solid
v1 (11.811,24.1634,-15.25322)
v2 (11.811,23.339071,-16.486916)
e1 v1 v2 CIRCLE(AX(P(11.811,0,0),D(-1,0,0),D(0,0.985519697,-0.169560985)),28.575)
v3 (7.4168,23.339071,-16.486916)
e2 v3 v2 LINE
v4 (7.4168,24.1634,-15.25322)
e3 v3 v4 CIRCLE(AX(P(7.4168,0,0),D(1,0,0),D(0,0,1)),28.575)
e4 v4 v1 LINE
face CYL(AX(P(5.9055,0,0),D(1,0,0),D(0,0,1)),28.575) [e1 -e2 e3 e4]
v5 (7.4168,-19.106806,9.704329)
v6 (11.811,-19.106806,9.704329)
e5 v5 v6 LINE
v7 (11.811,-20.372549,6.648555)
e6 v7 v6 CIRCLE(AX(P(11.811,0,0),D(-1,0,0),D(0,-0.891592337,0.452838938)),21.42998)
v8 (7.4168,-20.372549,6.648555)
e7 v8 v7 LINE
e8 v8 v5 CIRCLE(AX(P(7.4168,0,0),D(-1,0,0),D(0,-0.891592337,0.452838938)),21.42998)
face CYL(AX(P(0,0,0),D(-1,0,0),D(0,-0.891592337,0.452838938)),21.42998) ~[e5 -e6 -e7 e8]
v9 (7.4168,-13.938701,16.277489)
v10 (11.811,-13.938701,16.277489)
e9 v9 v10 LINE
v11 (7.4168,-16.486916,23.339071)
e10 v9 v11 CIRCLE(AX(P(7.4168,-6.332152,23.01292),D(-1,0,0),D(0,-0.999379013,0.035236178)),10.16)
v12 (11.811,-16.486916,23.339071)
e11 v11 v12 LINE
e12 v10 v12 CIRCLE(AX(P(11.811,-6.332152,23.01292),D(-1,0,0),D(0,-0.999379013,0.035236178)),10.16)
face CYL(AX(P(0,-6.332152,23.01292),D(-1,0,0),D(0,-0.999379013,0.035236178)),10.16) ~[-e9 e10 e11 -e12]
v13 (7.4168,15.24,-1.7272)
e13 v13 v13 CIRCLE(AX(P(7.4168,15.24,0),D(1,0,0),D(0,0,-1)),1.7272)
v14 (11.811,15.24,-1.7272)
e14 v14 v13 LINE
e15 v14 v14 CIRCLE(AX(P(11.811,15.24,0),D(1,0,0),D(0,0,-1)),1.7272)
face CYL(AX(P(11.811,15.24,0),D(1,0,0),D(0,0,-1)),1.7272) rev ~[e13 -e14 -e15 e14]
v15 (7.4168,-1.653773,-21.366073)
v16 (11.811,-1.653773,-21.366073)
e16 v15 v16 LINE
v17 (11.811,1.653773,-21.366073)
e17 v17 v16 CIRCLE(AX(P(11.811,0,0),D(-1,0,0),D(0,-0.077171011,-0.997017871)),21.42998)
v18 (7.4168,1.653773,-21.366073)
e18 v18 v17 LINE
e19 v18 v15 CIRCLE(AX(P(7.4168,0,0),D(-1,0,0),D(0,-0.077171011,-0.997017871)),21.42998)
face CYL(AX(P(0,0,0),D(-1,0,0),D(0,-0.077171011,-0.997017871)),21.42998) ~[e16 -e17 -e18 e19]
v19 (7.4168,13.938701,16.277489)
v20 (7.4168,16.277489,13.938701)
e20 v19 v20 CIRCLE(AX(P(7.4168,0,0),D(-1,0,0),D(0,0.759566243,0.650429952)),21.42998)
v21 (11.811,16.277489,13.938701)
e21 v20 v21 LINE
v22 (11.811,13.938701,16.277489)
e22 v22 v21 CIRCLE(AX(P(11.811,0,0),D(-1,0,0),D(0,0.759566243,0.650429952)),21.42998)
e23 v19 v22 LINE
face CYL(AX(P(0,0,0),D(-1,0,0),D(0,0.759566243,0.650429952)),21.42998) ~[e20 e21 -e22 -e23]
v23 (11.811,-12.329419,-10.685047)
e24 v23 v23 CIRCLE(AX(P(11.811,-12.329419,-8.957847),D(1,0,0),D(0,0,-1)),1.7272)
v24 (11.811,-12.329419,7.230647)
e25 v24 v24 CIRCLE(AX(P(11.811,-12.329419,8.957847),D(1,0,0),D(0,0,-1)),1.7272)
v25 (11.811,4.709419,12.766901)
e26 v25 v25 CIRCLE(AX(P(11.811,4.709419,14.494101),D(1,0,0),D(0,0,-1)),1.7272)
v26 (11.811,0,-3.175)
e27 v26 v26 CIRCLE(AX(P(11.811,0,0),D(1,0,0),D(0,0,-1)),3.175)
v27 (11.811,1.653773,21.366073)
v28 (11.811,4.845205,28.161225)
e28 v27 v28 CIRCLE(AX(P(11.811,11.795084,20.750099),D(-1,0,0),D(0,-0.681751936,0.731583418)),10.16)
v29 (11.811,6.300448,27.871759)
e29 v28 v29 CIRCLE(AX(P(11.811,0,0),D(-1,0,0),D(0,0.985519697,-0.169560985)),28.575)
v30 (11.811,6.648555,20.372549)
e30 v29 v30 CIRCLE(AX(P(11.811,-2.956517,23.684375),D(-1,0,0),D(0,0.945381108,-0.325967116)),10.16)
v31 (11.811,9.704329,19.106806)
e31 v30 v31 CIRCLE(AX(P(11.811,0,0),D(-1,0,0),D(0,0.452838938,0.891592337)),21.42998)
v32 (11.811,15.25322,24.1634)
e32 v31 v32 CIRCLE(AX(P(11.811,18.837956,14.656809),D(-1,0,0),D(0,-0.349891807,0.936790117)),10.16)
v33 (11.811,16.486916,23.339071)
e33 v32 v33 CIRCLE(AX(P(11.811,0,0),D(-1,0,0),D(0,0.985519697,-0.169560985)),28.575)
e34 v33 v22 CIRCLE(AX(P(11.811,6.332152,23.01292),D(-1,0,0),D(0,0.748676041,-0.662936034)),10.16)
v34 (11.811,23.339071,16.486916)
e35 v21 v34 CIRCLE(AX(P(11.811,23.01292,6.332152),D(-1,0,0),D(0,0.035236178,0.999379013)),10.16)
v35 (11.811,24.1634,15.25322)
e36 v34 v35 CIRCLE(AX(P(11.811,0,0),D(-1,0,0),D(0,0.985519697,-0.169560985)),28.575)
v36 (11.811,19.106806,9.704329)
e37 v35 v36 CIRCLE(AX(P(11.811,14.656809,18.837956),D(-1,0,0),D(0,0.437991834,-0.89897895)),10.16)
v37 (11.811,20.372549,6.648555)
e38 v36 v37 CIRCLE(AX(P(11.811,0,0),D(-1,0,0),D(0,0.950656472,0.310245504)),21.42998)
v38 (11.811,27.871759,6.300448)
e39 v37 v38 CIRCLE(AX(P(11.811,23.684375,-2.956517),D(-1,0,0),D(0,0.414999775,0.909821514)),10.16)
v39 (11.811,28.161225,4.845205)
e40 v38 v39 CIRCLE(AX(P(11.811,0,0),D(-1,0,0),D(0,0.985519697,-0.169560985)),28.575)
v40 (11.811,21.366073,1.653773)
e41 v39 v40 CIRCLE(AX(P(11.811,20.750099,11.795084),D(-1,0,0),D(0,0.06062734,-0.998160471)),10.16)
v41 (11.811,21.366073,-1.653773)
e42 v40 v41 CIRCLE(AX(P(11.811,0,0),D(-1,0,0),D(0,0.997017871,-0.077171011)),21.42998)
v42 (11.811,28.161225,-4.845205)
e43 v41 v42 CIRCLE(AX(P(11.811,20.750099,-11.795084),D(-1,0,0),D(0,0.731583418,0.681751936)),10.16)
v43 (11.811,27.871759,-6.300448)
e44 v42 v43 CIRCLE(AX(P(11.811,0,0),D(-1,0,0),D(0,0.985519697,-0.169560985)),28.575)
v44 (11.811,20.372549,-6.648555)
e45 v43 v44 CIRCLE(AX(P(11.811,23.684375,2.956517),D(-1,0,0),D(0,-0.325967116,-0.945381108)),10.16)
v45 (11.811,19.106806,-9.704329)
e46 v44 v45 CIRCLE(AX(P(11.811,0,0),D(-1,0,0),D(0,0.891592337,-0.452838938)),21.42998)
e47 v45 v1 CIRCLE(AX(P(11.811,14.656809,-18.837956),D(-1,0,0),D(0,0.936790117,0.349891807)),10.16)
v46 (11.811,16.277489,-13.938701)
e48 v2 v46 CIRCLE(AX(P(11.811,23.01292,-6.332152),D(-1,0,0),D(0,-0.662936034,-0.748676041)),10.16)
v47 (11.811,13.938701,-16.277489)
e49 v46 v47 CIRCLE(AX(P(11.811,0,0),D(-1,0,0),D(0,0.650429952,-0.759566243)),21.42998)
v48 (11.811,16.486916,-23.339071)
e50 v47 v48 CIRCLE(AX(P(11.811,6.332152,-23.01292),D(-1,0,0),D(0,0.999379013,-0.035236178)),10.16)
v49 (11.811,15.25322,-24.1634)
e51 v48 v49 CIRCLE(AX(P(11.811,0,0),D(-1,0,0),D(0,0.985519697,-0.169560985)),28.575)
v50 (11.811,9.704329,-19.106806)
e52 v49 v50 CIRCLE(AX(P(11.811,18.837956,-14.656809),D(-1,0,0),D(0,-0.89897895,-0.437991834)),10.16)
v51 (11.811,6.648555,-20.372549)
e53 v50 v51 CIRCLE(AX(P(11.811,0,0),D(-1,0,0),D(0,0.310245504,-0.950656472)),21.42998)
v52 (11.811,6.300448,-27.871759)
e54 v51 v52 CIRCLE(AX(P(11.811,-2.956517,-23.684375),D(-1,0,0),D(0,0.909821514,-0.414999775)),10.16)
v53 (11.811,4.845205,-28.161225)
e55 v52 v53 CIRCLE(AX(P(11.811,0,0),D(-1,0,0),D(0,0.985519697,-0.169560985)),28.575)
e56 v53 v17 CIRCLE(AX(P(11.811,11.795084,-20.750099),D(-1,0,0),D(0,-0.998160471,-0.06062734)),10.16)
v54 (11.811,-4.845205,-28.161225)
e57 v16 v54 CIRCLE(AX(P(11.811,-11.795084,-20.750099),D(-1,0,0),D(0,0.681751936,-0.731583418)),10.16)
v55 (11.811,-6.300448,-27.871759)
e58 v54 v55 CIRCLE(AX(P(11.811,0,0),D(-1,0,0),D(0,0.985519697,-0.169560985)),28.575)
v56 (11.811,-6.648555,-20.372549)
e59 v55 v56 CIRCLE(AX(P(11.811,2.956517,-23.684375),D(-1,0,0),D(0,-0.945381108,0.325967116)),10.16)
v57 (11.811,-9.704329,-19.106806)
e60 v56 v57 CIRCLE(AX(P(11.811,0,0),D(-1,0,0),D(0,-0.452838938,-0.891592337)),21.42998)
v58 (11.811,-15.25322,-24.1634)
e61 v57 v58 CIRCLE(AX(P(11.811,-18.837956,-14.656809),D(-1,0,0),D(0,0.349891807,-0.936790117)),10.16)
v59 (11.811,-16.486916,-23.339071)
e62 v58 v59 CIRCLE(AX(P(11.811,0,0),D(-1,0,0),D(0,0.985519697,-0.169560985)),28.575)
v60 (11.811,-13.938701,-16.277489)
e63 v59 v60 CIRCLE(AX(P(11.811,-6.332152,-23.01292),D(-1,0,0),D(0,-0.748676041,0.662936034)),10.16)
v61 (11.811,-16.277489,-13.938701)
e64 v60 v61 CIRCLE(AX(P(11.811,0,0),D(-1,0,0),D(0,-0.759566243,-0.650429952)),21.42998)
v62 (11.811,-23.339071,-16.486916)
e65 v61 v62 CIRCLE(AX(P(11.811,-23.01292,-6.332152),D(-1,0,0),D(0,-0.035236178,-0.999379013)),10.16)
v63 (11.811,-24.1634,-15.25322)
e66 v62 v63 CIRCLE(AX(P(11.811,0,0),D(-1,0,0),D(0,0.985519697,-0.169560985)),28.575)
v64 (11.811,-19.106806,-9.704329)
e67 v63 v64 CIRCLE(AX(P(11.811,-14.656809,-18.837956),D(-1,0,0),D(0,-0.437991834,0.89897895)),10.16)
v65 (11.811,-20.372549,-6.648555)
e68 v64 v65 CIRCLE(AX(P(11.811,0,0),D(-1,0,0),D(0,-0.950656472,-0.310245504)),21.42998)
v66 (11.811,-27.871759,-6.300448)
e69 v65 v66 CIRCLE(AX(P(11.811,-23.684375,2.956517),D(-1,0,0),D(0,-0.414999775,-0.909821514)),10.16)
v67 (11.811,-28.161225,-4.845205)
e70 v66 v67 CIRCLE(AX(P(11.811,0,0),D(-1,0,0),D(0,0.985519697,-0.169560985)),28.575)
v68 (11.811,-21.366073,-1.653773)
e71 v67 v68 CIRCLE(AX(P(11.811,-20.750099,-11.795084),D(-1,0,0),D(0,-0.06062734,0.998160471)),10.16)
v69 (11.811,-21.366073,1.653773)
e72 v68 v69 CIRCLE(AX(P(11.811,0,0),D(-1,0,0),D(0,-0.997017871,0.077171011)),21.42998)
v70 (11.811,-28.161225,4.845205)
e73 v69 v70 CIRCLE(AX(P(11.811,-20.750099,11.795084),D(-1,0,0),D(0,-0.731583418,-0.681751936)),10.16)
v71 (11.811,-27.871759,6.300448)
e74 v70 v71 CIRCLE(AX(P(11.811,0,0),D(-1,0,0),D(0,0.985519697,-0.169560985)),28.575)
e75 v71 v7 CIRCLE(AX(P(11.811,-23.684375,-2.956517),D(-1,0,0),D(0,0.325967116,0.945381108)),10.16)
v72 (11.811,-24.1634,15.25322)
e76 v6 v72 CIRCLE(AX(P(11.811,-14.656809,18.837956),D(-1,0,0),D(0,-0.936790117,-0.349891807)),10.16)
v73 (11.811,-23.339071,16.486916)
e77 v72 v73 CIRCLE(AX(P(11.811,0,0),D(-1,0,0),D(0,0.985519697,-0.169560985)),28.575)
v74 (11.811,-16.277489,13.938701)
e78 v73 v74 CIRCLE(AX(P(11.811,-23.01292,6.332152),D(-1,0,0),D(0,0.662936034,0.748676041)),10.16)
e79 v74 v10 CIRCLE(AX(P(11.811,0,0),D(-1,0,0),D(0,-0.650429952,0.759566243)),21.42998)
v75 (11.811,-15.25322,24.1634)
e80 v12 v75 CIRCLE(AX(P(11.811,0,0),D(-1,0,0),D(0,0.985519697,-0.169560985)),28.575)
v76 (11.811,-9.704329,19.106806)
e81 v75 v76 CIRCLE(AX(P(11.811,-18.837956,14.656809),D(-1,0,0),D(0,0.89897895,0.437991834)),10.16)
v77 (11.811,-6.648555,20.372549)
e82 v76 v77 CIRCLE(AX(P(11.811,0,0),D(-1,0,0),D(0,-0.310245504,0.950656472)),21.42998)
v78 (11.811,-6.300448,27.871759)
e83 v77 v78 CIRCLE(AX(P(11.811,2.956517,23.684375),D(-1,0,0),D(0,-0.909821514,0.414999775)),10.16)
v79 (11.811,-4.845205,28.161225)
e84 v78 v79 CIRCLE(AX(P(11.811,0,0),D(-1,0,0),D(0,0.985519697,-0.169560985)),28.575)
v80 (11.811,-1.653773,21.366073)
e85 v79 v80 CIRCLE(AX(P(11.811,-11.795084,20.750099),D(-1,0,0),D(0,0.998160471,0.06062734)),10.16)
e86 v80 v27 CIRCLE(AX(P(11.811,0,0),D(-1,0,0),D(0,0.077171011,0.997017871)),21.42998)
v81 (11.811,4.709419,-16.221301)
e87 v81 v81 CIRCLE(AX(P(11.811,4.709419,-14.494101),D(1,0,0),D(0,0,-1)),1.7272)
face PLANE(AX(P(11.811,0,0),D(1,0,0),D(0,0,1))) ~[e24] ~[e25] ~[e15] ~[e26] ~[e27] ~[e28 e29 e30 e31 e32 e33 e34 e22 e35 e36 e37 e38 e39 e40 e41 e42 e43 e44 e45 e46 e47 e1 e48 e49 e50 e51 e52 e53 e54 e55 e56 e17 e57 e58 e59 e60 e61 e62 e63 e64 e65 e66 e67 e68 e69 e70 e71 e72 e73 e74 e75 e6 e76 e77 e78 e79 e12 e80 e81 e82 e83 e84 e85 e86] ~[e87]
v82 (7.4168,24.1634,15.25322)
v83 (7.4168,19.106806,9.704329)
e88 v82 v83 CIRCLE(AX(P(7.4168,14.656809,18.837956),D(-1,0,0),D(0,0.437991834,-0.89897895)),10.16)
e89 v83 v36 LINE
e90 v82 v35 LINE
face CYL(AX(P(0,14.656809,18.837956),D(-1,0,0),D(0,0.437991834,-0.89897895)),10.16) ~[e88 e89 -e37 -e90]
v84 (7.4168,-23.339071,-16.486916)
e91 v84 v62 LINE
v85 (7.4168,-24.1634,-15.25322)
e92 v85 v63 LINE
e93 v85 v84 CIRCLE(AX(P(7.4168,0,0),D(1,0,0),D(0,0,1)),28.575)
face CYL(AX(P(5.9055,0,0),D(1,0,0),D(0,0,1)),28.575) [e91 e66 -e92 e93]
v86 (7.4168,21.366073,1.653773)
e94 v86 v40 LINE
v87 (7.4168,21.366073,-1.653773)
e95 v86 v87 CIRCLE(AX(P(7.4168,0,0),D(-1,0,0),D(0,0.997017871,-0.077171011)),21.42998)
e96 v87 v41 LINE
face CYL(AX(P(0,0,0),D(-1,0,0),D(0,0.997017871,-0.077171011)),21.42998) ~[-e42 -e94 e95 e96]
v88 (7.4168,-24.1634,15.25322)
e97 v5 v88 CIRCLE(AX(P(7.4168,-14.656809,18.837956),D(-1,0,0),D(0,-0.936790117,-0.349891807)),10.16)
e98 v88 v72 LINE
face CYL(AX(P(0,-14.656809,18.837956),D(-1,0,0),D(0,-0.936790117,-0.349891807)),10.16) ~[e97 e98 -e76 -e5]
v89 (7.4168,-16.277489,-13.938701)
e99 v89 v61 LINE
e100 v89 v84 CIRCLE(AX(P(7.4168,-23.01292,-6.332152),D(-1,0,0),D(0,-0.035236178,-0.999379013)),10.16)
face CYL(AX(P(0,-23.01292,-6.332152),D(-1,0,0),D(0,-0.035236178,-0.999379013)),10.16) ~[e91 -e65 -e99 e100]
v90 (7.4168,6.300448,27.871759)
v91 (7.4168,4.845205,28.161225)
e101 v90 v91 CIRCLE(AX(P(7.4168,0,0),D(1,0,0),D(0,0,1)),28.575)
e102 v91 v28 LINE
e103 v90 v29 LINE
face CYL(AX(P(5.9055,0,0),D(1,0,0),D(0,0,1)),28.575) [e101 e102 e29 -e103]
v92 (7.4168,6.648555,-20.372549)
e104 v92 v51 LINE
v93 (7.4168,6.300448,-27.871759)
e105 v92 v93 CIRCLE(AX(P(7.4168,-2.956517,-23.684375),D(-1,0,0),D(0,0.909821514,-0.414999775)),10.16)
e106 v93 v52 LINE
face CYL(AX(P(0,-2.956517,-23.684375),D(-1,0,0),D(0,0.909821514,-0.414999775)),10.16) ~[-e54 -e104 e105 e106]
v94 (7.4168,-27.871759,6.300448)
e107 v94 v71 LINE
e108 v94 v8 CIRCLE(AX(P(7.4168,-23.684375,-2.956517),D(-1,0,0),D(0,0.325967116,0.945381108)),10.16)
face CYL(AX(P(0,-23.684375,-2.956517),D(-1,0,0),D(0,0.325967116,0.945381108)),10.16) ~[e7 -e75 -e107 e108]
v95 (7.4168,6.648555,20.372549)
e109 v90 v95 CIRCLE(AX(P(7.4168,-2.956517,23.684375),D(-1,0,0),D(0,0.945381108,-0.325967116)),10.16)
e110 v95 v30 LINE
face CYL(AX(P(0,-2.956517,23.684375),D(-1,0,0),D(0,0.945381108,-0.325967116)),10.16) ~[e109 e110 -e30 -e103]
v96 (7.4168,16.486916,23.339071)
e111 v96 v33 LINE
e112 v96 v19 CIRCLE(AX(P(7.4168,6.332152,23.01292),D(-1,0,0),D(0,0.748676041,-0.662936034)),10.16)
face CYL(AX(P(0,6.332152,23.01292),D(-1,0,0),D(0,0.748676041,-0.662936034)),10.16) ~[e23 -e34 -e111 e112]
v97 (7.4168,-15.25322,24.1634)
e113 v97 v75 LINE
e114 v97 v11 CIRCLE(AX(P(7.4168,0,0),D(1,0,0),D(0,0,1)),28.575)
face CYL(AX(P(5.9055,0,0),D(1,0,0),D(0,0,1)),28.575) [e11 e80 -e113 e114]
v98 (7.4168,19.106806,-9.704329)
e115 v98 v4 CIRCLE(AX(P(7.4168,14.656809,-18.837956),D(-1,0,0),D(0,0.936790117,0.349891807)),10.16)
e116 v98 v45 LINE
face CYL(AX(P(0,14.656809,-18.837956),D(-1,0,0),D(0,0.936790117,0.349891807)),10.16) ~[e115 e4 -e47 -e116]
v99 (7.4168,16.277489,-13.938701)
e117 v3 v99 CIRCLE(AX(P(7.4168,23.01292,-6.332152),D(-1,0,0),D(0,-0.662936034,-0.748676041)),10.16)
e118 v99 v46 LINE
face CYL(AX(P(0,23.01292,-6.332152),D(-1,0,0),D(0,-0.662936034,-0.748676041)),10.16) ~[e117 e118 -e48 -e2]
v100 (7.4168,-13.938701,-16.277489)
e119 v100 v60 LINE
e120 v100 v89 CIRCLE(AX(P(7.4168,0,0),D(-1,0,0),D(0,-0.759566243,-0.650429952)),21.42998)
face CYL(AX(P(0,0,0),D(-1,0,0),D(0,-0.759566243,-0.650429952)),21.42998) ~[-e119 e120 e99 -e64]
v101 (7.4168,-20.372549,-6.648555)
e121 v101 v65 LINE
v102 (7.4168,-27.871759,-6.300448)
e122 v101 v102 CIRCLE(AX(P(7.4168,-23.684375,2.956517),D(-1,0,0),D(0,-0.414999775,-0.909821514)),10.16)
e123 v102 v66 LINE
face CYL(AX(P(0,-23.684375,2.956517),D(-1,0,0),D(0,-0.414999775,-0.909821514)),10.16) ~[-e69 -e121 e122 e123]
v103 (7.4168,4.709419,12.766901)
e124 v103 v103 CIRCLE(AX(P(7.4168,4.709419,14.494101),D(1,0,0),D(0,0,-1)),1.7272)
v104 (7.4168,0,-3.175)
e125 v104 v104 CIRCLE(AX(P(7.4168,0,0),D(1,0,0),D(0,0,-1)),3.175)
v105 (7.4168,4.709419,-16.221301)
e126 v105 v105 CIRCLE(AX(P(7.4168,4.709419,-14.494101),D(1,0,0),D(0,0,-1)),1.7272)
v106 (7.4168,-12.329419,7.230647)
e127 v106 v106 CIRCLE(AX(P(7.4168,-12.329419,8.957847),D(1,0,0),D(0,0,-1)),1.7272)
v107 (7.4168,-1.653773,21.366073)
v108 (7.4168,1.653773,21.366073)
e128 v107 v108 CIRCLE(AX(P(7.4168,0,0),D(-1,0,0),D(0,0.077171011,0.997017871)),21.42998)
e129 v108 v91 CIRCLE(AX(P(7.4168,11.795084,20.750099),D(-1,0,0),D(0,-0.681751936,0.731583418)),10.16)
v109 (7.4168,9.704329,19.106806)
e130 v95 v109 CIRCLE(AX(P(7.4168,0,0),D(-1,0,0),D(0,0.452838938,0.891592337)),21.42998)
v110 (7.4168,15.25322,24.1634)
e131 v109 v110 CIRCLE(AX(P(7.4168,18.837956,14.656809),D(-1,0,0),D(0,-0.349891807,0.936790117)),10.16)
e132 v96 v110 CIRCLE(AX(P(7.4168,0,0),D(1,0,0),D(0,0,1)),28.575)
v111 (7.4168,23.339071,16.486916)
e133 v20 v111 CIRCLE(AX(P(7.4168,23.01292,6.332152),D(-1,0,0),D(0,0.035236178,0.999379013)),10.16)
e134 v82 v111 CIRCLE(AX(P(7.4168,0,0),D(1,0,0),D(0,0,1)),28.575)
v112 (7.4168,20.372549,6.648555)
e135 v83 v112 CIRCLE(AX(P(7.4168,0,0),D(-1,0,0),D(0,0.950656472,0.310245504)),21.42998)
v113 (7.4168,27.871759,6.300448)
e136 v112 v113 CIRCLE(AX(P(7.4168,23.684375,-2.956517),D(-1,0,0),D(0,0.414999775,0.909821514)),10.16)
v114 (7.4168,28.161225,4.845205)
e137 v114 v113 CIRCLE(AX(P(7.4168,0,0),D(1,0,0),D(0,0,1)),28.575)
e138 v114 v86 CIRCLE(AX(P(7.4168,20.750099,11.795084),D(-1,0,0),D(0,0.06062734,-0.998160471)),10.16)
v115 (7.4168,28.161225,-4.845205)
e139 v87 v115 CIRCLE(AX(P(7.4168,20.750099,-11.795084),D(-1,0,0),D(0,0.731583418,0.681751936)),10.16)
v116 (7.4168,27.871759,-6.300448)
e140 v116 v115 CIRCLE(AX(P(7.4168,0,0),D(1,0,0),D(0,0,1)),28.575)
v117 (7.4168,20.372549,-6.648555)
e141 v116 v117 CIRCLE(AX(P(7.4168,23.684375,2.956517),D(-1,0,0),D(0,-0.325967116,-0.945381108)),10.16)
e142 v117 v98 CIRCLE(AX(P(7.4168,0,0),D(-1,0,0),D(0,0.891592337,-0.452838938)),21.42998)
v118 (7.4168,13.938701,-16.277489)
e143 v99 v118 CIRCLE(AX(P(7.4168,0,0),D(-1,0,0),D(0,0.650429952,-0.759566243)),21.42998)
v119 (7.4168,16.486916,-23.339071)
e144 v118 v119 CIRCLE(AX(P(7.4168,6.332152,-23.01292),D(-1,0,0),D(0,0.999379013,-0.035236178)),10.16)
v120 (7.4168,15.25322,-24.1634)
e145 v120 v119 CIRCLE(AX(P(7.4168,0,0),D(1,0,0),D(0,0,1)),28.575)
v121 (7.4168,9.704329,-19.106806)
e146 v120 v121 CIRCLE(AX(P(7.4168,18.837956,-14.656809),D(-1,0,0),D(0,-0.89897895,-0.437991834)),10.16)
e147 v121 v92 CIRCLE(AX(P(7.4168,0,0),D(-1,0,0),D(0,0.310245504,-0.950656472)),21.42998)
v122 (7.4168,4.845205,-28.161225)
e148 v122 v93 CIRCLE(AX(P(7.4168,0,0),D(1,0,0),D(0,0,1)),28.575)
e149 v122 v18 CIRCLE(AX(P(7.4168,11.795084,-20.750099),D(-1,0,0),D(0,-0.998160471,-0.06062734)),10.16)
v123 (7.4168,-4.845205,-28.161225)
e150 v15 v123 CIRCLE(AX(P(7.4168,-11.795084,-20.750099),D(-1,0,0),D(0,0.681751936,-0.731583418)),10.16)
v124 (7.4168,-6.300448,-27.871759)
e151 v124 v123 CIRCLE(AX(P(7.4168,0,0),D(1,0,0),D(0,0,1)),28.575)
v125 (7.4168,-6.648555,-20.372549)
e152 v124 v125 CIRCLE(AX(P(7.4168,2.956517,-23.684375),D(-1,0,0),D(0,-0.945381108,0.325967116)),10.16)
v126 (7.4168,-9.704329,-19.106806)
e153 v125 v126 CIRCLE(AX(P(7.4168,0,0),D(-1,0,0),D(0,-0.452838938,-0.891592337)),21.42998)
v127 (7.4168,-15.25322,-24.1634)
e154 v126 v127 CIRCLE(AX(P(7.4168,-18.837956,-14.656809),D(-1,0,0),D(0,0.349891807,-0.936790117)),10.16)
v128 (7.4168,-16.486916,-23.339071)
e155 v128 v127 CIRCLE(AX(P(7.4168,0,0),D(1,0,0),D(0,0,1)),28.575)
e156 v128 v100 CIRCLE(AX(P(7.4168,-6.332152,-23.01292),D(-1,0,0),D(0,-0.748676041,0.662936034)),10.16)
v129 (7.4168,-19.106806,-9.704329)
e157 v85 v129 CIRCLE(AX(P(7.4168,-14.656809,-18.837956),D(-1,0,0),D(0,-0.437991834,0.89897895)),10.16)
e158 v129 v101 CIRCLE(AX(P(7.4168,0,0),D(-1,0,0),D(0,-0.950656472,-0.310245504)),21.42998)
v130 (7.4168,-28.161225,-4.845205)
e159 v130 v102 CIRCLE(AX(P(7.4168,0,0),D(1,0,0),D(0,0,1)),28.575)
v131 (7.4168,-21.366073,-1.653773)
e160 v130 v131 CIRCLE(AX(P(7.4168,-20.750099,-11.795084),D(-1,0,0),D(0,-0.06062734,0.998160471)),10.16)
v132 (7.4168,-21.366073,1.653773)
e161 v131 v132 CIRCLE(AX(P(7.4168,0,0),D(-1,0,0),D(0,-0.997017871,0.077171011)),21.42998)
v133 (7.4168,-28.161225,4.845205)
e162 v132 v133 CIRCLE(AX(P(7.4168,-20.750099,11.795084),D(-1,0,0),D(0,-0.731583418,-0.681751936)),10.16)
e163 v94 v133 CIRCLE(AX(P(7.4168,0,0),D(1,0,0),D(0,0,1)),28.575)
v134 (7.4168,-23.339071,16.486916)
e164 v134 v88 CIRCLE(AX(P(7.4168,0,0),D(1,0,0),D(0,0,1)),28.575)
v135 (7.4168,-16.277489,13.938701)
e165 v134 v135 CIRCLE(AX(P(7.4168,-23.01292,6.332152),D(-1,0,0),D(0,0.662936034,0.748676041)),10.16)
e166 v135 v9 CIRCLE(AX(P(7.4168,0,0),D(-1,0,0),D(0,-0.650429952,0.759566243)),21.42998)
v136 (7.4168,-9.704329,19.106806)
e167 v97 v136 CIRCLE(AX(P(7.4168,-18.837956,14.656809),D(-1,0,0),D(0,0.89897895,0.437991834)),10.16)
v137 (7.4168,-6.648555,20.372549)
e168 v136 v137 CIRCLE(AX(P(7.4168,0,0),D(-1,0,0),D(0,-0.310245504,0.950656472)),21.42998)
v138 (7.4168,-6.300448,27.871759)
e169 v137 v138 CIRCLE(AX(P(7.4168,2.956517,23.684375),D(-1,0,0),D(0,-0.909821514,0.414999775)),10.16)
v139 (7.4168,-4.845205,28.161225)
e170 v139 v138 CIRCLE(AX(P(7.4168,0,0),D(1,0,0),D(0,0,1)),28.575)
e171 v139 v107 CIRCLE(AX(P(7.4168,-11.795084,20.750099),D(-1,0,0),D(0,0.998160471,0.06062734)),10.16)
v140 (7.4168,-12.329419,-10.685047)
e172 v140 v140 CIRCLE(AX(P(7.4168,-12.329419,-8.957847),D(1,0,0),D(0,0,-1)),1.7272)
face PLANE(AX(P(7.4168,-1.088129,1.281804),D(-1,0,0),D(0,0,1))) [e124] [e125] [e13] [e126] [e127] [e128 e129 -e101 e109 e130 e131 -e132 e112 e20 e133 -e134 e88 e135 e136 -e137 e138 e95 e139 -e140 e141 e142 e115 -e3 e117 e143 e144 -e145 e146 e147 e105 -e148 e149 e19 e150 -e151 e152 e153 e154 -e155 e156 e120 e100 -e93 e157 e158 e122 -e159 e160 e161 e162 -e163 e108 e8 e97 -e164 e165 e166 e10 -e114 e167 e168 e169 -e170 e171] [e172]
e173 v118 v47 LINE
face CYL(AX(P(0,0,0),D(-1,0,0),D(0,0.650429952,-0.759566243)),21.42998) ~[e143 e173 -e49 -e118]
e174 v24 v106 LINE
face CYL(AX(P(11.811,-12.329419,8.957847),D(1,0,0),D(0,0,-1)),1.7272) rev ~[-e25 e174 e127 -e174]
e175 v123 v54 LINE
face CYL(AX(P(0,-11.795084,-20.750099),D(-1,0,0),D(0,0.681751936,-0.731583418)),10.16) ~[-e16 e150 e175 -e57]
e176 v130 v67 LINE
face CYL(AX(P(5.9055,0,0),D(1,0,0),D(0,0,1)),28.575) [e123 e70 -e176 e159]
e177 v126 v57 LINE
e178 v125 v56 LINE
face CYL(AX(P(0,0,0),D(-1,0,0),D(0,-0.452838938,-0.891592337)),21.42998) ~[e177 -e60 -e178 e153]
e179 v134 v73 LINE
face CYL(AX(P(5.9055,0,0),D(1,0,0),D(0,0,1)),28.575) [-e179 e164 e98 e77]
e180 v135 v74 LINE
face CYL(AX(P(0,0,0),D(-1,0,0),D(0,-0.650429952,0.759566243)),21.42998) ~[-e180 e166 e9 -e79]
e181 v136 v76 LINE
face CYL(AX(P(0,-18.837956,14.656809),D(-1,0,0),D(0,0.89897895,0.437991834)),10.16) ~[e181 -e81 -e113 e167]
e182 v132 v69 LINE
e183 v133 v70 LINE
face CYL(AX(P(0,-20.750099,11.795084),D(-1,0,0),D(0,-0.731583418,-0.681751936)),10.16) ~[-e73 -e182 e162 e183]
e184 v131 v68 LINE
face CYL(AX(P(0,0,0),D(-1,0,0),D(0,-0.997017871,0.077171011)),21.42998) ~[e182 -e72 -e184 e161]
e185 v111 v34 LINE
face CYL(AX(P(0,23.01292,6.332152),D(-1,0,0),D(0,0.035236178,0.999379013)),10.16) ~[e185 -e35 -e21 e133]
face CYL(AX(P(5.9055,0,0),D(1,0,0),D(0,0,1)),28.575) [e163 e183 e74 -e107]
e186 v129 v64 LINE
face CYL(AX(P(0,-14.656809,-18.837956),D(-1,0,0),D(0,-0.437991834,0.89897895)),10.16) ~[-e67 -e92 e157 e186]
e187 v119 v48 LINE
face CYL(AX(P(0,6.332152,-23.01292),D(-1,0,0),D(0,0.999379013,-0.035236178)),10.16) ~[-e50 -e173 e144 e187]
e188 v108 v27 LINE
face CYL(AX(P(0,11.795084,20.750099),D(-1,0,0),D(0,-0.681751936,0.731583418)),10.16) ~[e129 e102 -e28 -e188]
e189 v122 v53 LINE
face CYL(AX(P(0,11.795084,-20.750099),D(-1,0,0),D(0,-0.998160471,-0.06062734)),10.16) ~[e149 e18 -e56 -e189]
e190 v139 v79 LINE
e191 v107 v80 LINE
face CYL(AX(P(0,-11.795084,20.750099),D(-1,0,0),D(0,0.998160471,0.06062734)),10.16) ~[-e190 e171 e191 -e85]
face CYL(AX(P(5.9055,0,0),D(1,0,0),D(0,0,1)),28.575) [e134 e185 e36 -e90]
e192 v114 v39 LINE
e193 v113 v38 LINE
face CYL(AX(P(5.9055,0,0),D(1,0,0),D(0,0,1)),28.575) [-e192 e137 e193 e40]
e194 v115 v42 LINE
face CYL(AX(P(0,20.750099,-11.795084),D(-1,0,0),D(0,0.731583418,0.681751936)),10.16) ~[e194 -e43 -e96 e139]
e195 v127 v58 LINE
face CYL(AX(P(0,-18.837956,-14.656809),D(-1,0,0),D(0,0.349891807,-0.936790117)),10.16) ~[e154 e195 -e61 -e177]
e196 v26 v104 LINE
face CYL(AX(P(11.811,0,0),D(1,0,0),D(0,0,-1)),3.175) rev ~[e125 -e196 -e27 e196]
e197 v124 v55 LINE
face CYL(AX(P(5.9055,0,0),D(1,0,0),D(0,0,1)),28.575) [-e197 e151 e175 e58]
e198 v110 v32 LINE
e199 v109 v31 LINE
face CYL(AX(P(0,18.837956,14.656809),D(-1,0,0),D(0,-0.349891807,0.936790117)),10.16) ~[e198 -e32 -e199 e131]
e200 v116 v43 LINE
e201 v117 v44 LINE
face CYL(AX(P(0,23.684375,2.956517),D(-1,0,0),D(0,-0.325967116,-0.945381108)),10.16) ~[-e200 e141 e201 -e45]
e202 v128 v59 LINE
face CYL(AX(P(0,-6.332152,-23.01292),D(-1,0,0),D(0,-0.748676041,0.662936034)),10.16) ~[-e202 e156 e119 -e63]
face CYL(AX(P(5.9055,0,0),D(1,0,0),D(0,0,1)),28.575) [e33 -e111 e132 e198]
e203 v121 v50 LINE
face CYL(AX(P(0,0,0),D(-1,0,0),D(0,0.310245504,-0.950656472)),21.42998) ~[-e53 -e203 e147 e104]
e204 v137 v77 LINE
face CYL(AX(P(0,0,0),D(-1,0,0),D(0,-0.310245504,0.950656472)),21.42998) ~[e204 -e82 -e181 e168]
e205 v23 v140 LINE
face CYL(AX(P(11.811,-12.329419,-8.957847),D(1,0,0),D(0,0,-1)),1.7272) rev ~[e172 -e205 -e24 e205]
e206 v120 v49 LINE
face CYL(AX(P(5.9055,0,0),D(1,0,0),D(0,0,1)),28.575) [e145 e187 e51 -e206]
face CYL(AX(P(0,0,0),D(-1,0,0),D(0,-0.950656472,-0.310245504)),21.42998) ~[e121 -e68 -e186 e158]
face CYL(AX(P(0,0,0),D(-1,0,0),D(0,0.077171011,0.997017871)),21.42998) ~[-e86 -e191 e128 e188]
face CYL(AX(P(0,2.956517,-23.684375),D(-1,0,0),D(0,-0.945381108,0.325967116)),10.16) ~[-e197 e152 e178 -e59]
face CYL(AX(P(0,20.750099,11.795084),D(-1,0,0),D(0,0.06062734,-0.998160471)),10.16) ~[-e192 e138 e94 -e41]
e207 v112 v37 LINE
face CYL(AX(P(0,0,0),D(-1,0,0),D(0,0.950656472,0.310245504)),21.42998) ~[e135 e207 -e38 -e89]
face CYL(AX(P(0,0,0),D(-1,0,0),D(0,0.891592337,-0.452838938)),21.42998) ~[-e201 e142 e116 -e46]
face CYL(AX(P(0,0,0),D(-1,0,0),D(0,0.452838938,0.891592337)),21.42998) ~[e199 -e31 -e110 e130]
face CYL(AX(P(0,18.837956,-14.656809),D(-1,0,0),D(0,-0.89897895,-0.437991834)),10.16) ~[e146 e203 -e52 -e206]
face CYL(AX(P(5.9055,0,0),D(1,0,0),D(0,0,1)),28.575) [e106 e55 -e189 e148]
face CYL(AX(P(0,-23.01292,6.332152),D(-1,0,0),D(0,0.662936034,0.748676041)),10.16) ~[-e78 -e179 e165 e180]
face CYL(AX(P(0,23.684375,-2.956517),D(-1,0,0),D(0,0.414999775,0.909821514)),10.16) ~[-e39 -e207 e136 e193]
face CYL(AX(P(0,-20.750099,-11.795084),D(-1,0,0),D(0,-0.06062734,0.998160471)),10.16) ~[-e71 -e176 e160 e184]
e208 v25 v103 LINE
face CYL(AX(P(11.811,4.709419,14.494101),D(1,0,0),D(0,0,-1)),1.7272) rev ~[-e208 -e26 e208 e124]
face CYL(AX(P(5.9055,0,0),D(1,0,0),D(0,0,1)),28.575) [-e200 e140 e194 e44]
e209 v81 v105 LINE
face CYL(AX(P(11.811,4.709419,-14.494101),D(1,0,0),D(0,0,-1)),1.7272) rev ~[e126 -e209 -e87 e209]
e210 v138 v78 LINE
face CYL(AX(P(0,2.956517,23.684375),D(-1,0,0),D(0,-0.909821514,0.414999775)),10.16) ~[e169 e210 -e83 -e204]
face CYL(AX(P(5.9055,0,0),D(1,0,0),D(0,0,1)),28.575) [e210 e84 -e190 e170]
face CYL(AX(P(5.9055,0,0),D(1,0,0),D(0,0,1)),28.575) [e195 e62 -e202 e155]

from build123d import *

# Parameters (mm, degrees)
BASPROSKE_W        = 11.811
BASPROSKE_H        = 28.575
TOOTHCUT_DEPTH     = 43.101792967
TEETHCUTS_COUNT    = 16
TEETHCUTS_ANGLE    = 337.5
BORSKE_R           = 0.396875
BORE_DEPTH         = 50.8000508
SKETCH1_R          = 3.175
CUT_EXTRUDE1_DEPTH = 42.540449503
SKETCH2_R          = 1.7272
CUT_EXTRUDE2_DEPTH = 42.540449503
SKETCH3_W          = 84.477604546
SKETCH3_H          = 60.621692784
CUT_EXTRUDE3_DEPTH = 7.4168


with BuildPart() as part:
    # BasProSke → Base-Revolve (revolve)
    with BuildSketch(Plane(origin=(0, 0, 0), x_dir=(1, 0, 0), z_dir=(0, 1, 0)), mode=Mode.PRIVATE) as base_revolve_sk:
        with Locations((5.9055, 14.2875)):
            Rectangle(BASPROSKE_W, BASPROSKE_H)
    revolve(base_revolve_sk.sketch.rotate(Axis((-10, 0, 0), (1, 0, 0)), 180), axis=Axis((-10, 0, 0), (1, 0, 0)))

    # TooCutSke → ToothCut (cut, through all)
    with BuildSketch(Plane(origin=(0, 0, 0), x_dir=(0, 0, -1), z_dir=(1, 0, 0))):
        with BuildLine():
            ThreePointArc((1.653773222, 21.366073035), (0, 21.42998), (-1.653773222, 21.366073035))
            ThreePointArc((-1.653773222, 21.366073035), (-2.605634946, 25.083646688), (-4.868483936, 28.182986789))
            ThreePointArc((-4.868483936, 28.182986789), (0, 28.6004), (4.868483936, 28.182986789))
            ThreePointArc((4.868483936, 28.182986789), (2.605634946, 25.083646688), (1.653773222, 21.366073035))
        make_face()
    toothcut = extrude(amount=TOOTHCUT_DEPTH, mode=Mode.SUBTRACT)

    # TeethCuts: ToothCut ×16 about axis
    teethcuts_axis = Axis((-10, 0, 0), (1, 0, 0))
    for i in range(1, TEETHCUTS_COUNT):
        add(toothcut.rotate(teethcuts_axis, i * TEETHCUTS_ANGLE / (TEETHCUTS_COUNT - 1)), mode=Mode.SUBTRACT)

    # BorSke → Bore (cut, symmetric)
    with BuildSketch(Plane(origin=(0, 0, 0), x_dir=(0, 0, -1), z_dir=(1, 0, 0))):
        with Locations(Location((0, 0, 0), (0, 0, 180))):
            Circle(BORSKE_R)
    extrude(amount=BORE_DEPTH, both=True, mode=Mode.SUBTRACT)

    # Sketch1 → Cut-Extrude1 (cut, through all)
    with BuildSketch(Plane(origin=(11.811, 0, 0), x_dir=(0, 0, -1), z_dir=(1, 0, 0))):
        Circle(SKETCH1_R)
    extrude(amount=-CUT_EXTRUDE1_DEPTH, mode=Mode.SUBTRACT)

    # Sketch2 → Cut-Extrude2 (cut, through all)
    with BuildSketch(Plane(origin=(11.811, 0, 0), x_dir=(0, 0, -1), z_dir=(1, 0, 0))):
        with Locations((0, 15.24)):
            Circle(SKETCH2_R)
        with Locations((14.494101308, 4.709418994)):
            Circle(SKETCH2_R)
        with Locations((8.957847245, -12.329418994)):
            Circle(SKETCH2_R)
        with Locations((-8.957847245, -12.329418994)):
            Circle(SKETCH2_R)
        with Locations((-14.494101308, 4.709418994)):
            Circle(SKETCH2_R)
    extrude(amount=-CUT_EXTRUDE2_DEPTH, mode=Mode.SUBTRACT)

    # Sketch3 → Cut-Extrude3 (cut)
    with BuildSketch(Plane.ZY):
        with Locations((1.281804372, -1.088129041)):
            Rectangle(SKETCH3_W, SKETCH3_H)
    extrude(amount=-CUT_EXTRUDE3_DEPTH, mode=Mode.SUBTRACT)


solid = part.part
